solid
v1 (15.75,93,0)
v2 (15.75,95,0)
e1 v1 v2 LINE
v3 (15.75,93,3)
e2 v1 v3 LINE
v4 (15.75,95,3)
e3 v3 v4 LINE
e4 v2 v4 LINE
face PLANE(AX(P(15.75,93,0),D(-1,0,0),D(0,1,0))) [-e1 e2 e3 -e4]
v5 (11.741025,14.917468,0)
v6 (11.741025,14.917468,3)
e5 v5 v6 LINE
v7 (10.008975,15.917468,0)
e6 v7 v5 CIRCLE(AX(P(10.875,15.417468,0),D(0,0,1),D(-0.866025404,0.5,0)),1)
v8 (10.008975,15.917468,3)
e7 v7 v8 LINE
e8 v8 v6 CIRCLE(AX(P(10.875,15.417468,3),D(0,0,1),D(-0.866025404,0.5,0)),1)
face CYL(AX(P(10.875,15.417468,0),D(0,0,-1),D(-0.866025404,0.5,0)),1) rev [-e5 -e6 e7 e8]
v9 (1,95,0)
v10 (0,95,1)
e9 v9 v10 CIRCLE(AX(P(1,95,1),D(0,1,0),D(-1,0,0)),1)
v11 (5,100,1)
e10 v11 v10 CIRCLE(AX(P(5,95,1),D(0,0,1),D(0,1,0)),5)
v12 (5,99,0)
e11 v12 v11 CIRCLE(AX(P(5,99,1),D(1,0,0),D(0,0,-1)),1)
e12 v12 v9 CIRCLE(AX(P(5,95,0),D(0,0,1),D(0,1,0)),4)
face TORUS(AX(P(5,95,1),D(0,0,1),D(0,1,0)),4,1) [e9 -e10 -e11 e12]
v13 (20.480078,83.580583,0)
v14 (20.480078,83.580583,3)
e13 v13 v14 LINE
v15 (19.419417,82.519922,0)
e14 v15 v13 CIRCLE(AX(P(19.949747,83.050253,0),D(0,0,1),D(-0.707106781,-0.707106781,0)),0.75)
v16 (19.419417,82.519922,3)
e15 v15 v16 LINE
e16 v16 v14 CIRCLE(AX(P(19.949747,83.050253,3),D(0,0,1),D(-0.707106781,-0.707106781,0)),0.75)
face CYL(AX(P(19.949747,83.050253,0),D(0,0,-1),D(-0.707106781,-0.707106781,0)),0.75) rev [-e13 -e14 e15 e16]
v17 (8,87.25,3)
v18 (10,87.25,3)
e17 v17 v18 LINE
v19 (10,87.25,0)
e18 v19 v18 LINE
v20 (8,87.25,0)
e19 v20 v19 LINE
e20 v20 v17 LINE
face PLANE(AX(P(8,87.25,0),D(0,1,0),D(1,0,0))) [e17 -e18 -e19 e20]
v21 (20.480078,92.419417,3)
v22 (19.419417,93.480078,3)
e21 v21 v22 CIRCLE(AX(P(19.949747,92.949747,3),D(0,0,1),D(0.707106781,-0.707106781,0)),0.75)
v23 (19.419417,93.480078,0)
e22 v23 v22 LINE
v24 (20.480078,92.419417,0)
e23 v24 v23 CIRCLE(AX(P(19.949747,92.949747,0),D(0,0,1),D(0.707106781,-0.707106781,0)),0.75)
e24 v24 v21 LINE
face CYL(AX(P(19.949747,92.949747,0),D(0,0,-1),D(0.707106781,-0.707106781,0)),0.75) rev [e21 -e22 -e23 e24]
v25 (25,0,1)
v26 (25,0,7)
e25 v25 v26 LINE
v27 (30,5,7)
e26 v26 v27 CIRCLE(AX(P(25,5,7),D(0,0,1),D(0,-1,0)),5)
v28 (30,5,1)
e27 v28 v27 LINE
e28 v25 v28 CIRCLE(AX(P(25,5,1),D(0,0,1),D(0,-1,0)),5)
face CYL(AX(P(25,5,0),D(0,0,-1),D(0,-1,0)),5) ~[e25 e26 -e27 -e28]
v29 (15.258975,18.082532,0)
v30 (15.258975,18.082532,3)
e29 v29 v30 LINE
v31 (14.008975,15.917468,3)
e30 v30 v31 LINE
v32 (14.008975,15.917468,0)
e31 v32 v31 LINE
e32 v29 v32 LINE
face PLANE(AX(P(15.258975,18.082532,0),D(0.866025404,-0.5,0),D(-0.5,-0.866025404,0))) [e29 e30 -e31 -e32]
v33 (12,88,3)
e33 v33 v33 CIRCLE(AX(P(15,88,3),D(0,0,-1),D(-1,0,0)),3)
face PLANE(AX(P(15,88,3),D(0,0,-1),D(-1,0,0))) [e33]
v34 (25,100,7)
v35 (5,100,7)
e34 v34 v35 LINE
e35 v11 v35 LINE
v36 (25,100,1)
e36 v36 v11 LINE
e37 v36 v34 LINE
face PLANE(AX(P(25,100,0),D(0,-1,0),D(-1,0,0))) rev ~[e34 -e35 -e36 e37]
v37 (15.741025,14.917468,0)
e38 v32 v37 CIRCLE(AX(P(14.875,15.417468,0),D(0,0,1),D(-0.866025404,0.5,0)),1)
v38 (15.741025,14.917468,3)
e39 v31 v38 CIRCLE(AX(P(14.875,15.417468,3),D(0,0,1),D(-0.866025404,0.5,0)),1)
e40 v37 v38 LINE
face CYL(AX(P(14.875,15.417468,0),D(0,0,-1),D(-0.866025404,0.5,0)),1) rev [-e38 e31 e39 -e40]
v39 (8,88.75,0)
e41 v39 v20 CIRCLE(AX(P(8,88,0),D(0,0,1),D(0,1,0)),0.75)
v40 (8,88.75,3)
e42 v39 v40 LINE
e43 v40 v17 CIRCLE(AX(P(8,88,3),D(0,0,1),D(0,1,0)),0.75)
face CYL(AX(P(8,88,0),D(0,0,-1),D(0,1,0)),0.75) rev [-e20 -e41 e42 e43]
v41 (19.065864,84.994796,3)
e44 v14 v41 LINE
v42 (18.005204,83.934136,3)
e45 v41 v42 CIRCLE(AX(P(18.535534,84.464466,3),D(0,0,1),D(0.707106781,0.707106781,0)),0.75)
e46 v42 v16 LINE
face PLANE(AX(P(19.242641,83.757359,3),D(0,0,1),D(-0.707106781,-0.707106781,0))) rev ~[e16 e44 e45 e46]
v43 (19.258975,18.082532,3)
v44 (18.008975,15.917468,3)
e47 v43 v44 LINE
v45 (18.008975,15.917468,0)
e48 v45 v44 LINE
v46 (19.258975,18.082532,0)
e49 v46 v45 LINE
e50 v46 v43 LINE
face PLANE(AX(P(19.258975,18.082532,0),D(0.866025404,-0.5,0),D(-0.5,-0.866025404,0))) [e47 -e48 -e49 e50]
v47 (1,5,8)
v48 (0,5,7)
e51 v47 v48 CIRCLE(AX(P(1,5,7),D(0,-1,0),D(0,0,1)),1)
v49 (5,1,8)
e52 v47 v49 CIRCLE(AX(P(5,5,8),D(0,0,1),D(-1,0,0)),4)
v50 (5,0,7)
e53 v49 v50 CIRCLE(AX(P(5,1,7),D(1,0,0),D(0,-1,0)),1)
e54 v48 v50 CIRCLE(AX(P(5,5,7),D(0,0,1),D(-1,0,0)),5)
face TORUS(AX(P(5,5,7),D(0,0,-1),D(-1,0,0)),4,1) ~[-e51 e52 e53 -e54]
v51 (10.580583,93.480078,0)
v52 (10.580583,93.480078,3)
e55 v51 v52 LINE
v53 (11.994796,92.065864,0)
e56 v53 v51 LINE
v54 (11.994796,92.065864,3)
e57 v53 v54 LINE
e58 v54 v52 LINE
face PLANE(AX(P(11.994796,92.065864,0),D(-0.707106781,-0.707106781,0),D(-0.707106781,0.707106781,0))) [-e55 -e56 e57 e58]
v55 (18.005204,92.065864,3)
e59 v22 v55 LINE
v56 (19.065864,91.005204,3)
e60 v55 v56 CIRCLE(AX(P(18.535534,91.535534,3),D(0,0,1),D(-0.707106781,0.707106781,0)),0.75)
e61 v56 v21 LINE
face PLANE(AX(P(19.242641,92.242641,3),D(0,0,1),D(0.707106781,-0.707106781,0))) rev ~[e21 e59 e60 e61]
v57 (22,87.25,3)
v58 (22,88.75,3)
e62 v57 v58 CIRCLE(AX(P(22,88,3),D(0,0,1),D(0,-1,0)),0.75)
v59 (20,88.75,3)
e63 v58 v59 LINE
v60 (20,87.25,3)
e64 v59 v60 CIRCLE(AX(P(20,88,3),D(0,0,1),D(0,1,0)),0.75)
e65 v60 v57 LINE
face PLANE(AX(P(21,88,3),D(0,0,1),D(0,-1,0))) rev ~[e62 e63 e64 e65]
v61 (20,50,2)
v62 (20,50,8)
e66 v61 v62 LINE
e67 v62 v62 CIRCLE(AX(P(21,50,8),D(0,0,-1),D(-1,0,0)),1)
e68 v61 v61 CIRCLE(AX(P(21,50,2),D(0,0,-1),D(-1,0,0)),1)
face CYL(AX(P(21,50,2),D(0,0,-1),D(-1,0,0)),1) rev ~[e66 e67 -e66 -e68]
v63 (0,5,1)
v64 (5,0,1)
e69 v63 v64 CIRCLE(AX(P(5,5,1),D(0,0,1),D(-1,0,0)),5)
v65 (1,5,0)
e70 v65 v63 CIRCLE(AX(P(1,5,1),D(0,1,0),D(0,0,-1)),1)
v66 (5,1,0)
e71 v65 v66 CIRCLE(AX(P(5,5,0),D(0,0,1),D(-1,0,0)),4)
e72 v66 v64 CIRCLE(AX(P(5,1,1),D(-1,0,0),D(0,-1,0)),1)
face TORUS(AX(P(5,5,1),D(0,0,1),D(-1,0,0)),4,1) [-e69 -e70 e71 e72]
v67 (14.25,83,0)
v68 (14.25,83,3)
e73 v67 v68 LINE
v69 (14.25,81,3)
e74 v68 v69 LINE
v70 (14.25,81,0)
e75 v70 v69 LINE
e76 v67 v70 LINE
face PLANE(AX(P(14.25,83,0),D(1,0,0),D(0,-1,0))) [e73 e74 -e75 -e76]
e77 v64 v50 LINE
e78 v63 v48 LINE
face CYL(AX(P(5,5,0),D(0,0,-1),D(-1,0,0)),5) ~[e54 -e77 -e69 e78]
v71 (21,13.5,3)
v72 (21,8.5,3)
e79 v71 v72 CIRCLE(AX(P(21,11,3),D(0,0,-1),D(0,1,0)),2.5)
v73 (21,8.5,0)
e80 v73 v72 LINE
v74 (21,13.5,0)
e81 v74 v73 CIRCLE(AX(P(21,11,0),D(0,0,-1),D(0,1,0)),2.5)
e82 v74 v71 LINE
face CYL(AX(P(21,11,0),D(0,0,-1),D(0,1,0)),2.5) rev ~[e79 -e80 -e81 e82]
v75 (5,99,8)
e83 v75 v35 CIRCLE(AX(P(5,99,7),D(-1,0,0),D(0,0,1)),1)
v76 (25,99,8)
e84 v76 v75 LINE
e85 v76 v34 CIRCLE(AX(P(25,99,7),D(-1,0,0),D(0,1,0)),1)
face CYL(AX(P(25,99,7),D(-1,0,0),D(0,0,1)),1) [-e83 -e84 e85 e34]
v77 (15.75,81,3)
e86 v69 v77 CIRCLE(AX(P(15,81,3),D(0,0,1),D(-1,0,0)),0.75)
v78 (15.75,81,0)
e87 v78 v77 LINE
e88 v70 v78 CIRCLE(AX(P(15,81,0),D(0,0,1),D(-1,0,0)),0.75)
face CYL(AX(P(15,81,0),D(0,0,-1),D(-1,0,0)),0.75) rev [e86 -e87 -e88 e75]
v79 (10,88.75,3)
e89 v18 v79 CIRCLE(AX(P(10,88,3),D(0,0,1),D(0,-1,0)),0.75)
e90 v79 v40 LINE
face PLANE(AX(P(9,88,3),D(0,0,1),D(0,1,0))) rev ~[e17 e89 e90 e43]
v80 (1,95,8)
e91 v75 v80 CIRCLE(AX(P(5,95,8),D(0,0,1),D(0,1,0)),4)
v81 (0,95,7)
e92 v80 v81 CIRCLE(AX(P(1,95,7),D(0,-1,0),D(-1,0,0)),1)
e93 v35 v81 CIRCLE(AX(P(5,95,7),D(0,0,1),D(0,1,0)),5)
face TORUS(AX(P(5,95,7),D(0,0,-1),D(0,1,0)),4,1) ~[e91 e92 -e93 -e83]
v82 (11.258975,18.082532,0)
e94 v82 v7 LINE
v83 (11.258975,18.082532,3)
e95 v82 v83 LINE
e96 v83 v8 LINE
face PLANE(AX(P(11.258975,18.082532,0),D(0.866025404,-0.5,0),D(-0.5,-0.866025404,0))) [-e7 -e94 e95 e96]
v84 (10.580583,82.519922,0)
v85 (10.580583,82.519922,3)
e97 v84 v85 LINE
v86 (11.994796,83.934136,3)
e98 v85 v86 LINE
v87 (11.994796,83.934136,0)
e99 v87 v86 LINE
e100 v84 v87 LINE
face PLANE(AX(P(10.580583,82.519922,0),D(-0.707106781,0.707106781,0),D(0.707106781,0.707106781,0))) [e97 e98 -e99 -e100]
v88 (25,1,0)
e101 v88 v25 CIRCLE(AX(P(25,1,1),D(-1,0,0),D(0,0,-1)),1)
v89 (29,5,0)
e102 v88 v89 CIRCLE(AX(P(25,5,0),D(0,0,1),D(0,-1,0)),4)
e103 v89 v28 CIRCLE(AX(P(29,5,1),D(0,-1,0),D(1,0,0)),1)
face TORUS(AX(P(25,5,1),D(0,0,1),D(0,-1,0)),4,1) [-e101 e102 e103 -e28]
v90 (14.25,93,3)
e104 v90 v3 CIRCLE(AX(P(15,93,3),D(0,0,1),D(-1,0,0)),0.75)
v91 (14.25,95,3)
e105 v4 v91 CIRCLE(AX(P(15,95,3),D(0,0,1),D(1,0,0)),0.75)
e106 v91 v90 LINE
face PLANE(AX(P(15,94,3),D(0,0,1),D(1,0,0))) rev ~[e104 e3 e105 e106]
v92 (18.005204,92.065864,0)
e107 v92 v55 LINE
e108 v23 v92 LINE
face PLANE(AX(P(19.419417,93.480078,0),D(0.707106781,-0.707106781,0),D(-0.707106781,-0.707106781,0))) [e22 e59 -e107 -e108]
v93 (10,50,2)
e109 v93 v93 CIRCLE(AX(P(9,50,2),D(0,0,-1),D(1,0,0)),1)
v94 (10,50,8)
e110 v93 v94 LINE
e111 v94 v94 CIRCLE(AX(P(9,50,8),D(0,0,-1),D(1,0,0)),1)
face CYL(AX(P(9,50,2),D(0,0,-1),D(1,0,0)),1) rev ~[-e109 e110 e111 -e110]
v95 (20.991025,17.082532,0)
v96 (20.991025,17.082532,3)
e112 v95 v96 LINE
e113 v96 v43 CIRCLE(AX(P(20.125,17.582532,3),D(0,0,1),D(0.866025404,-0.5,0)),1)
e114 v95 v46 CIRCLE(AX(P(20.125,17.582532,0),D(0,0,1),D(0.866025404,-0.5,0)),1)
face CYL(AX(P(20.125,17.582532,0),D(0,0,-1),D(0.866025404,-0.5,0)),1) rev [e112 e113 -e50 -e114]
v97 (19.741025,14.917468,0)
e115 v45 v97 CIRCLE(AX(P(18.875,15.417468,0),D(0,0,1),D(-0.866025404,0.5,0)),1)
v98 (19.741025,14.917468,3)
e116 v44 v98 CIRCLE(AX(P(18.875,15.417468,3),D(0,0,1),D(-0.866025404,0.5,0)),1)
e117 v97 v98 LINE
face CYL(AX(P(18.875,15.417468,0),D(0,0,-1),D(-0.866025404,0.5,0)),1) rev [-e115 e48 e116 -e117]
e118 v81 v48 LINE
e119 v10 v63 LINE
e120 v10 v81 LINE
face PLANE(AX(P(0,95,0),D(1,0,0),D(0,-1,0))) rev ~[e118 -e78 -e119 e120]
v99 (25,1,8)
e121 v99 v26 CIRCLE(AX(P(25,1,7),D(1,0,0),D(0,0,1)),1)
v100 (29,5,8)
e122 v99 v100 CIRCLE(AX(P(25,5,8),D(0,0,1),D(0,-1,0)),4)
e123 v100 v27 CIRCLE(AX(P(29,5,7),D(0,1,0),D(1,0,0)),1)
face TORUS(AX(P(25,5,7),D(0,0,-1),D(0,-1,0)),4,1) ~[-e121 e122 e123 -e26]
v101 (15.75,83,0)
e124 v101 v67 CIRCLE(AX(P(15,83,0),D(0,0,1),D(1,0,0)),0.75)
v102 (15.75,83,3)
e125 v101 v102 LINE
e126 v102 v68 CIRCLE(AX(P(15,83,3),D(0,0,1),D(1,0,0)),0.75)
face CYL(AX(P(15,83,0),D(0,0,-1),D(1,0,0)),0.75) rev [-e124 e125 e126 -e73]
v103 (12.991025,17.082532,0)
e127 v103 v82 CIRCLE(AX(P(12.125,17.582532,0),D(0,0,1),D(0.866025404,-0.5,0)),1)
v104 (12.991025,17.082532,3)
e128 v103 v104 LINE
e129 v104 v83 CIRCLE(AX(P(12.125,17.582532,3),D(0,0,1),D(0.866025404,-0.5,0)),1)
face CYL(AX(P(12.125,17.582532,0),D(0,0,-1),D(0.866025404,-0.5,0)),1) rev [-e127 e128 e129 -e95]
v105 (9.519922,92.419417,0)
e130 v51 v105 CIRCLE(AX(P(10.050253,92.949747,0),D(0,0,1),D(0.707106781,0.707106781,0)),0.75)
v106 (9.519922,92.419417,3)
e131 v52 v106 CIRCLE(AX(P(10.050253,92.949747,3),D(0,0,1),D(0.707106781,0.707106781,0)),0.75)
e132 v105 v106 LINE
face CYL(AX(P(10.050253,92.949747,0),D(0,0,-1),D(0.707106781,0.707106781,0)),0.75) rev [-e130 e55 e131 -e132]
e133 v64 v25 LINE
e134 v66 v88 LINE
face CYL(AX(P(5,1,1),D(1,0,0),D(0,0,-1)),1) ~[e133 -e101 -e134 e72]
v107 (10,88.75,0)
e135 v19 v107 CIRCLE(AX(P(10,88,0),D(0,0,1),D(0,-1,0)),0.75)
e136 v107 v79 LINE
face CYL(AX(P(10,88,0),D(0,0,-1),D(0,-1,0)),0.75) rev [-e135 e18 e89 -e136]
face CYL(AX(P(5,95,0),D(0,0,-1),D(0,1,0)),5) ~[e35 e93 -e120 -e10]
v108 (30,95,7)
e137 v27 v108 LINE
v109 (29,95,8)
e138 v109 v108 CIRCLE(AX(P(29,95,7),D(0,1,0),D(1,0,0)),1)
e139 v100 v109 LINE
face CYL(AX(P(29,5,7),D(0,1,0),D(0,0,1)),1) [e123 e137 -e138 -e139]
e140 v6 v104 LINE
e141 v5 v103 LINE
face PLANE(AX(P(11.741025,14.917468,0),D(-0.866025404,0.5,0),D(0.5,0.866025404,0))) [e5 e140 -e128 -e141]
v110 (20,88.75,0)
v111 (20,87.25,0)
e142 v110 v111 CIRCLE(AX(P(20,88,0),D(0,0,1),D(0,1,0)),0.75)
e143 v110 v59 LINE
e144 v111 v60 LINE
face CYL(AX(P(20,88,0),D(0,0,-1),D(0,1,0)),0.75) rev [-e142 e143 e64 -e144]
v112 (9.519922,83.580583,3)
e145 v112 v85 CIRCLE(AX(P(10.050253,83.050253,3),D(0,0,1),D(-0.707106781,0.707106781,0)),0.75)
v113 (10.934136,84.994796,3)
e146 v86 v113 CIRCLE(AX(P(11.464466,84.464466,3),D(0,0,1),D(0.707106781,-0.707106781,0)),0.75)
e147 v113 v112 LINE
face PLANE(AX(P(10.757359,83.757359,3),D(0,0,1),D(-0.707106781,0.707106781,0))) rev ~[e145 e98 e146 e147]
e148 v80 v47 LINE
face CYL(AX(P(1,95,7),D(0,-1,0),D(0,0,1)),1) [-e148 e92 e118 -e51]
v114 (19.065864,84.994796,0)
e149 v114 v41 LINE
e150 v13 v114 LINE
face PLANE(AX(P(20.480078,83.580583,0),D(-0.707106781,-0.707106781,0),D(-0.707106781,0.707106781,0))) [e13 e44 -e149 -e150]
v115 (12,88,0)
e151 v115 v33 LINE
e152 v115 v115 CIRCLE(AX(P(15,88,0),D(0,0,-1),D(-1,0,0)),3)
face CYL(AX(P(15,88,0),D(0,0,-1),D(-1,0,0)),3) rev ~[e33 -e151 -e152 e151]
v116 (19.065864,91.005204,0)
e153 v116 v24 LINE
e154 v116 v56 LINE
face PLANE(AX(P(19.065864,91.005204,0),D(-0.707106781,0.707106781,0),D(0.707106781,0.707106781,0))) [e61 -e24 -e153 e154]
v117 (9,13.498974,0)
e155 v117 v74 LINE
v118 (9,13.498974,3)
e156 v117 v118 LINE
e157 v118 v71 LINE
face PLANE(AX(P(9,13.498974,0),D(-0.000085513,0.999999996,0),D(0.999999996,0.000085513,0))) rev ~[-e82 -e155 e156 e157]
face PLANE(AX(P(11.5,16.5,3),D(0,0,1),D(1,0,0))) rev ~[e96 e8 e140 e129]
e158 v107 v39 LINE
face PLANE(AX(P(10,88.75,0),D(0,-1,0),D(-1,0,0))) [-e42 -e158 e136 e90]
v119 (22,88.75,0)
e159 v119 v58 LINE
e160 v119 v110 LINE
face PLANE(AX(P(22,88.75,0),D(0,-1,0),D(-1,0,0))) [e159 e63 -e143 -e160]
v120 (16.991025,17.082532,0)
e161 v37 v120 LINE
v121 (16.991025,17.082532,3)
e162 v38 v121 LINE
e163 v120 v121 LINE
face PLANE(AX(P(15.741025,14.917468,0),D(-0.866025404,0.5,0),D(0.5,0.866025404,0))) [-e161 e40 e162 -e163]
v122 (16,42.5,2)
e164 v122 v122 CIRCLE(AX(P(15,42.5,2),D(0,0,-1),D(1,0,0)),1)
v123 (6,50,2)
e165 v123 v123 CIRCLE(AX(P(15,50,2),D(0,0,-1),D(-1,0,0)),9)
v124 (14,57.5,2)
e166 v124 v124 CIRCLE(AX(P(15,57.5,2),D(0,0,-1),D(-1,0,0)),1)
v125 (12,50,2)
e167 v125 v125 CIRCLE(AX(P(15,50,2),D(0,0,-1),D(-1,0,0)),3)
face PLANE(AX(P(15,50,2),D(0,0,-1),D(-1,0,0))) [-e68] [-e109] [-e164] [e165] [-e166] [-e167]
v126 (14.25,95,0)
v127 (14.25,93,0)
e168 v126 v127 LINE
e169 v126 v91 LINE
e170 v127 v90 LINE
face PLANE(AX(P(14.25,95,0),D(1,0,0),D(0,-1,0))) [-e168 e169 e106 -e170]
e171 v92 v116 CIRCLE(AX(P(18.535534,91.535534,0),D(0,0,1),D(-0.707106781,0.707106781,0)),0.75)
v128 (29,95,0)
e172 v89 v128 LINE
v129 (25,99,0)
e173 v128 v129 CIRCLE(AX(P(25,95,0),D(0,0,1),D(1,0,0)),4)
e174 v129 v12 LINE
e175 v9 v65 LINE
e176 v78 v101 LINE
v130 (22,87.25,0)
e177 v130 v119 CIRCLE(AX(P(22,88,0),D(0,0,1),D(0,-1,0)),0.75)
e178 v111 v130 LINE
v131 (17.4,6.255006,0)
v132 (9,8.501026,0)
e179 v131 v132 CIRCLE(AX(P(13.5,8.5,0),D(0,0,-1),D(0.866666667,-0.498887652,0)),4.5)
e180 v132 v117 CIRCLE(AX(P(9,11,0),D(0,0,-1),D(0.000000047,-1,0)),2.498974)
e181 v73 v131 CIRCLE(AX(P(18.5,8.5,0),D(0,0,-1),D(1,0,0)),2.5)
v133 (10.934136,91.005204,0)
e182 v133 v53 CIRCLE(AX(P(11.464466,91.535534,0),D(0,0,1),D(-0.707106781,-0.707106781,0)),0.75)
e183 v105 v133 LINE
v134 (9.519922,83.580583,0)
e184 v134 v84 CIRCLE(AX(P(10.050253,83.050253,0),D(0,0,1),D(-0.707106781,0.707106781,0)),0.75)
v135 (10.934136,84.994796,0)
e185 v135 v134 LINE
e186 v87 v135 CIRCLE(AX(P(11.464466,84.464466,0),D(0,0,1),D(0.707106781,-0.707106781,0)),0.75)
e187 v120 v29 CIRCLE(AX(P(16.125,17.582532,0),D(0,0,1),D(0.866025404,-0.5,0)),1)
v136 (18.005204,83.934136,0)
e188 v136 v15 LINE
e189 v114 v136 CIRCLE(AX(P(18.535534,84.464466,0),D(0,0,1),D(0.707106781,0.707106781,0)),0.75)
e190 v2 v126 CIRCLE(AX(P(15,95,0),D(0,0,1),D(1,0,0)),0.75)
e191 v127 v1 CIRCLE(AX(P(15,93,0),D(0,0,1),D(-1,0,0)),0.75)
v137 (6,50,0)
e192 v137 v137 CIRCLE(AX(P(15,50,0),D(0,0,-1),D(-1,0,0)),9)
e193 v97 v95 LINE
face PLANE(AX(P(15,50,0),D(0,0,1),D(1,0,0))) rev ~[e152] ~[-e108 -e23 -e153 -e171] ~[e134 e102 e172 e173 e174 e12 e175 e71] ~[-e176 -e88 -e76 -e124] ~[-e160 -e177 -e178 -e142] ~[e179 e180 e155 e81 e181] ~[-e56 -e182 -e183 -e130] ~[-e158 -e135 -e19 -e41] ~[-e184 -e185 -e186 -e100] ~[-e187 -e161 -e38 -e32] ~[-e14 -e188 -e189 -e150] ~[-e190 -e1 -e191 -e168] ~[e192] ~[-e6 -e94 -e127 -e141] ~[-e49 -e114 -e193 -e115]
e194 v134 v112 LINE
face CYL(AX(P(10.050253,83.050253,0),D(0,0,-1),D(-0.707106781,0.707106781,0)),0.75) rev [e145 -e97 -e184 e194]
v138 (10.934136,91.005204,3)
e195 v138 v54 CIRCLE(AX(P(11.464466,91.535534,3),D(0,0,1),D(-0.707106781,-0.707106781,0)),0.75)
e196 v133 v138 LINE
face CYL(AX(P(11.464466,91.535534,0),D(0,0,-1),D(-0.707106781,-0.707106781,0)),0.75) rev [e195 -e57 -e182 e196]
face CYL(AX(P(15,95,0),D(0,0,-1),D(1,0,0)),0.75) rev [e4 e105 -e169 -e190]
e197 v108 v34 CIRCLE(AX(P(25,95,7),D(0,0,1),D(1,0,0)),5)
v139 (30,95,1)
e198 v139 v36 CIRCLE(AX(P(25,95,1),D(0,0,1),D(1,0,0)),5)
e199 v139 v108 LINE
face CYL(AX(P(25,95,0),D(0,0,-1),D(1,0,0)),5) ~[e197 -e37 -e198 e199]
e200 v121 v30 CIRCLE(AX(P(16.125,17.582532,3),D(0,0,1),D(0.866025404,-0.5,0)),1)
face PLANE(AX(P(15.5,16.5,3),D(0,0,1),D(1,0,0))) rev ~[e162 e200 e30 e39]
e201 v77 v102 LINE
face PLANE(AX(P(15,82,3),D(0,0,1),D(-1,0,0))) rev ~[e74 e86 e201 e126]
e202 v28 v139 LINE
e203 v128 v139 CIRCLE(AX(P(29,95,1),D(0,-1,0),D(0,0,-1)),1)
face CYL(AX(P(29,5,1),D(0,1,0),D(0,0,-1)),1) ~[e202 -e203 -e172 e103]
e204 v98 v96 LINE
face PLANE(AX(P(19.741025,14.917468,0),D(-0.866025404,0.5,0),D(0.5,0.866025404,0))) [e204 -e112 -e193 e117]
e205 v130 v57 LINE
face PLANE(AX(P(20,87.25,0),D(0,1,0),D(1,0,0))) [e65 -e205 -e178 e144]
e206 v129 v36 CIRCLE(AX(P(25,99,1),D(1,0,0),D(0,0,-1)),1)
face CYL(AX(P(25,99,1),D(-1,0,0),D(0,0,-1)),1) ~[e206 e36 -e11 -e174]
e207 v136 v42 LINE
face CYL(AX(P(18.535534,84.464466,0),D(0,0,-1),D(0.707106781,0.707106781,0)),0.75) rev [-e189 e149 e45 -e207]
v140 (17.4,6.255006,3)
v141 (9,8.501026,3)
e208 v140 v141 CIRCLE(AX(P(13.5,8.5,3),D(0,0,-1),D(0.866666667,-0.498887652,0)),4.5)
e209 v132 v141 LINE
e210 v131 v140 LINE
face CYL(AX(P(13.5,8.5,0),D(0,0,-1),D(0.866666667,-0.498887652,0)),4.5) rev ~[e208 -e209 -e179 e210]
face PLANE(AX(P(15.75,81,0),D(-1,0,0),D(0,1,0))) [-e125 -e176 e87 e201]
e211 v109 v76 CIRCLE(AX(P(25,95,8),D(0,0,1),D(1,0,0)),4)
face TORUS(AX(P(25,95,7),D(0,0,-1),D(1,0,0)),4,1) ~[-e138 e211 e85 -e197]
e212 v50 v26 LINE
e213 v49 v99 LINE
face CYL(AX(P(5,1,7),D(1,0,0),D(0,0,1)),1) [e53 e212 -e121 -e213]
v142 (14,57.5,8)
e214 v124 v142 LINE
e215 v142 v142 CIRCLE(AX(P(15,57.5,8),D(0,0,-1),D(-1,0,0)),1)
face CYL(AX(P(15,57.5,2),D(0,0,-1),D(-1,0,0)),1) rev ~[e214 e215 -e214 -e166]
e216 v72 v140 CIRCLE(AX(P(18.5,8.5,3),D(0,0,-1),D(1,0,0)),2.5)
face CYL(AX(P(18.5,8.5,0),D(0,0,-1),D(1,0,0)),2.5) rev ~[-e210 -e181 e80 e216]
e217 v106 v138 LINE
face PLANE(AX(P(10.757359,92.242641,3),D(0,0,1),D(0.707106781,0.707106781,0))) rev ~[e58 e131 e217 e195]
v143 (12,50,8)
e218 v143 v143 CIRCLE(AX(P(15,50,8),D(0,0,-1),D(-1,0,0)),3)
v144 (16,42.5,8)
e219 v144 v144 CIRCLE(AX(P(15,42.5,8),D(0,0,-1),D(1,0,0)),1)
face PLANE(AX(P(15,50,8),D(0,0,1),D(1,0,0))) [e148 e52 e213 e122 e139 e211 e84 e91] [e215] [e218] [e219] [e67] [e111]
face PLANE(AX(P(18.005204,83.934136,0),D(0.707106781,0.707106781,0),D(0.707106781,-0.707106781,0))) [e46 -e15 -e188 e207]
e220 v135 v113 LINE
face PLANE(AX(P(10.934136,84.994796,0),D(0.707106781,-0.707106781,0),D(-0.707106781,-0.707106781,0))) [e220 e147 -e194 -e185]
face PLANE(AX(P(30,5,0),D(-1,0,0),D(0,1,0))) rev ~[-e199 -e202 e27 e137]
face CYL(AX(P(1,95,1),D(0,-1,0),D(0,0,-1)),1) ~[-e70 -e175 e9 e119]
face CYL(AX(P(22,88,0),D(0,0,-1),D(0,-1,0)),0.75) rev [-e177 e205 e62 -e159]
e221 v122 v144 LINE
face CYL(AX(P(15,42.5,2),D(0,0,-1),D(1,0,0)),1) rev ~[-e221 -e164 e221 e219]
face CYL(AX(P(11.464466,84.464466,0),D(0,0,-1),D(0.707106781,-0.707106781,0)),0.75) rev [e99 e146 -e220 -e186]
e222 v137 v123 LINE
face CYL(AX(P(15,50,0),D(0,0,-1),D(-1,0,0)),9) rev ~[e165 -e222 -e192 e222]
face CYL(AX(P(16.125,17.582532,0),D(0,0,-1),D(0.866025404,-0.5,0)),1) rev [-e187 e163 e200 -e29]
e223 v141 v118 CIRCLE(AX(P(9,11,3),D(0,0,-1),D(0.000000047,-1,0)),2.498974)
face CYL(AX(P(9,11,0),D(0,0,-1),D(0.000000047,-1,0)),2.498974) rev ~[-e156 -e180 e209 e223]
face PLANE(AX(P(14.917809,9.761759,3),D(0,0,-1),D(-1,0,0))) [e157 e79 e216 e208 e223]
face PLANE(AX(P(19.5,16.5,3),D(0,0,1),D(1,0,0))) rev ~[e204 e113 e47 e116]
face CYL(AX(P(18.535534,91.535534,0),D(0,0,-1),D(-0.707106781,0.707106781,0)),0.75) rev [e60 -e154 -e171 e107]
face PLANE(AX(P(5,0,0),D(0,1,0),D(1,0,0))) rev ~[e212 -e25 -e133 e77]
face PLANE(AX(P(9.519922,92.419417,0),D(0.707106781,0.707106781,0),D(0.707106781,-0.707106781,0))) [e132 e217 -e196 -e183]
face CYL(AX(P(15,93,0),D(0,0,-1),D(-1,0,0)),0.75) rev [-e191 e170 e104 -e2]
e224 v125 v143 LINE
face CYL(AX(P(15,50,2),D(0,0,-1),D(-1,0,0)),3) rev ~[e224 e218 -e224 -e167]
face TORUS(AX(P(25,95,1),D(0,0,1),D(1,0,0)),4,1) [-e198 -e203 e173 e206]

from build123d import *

# Parameters (mm, degrees)
EXTRUDE_1_DEPTH          = 8
SKETCH_2_R               = 3
CUT_EXTRUDE_1_DEPTH      = 3
CUT_EXTRUDE_2_DEPTH      = 3
PATTERN_CIRCULAR_1_COUNT = 8
CUT_EXTRUDE_3_DEPTH      = 3
CUT_EXTRUDE_4_DEPTH      = 3
PATTERN_LINEAR_2_COUNT   = 2
PATTERN_LINEAR_2_PITCH   = 4
PATTERN_LINEAR_4_COUNT   = 2
PATTERN_LINEAR_4_PITCH   = 4
SKETCH_14_R              = 9
CUT_EXTRUDE_7_DEPTH      = 2
SKETCH_15_R              = 3
CUT_EXTRUDE_8_DEPTH      = 7
SKETCH1_R                = 1
CUT_EXTRUDE1_DEPTH       = 7
CIRPATTERN1_COUNT        = 2
SKETCH2_R                = 1
CUT_EXTRUDE2_DEPTH       = 7
CIRPATTERN2_COUNT        = 2
FILLET1_R                = 1
FILLET2_R                = 1


with BuildPart() as part:
    # ｽｹｯﾁ1 → ﾎﾞｽ - 押し出し1 (new body)
    with BuildSketch(Plane.XY):
        with BuildLine():
            Line((5, 0), (25, 0))
            ThreePointArc((25, 0), (28.535533906, 1.464466094), (30, 5))
            Line((30, 5), (30, 95))
            ThreePointArc((30, 95), (28.535533906, 98.535533906), (25, 100))
            Line((25, 100), (5, 100))
            ThreePointArc((5, 100), (1.464466094, 98.535533906), (0, 95))
            Line((0, 95), (0, 5))
            ThreePointArc((0, 5), (1.464466094, 1.464466094), (5, 0))
        make_face()
    extrude(amount=EXTRUDE_1_DEPTH)

    # ｽｹｯﾁ2 → ｶｯﾄ - 押し出し1 (cut)
    with BuildSketch(Plane(origin=(0, 0, 0), x_dir=(-1, 0, 0), z_dir=(0, 0, -1))):
        with Locations((-15, 88)):
            Circle(SKETCH_2_R)
    extrude(amount=-CUT_EXTRUDE_1_DEPTH, mode=Mode.SUBTRACT)

    # ｽｹｯﾁ4 → ｶｯﾄ - 押し出し2 (cut)
    with BuildSketch(Plane(origin=(0, 0, 0), x_dir=(-1, 0, 0), z_dir=(0, 0, -1))):
        with BuildLine():
            Line((-14.25, 95), (-14.25, 93))
            ThreePointArc((-14.25, 93), (-15, 92.25), (-15.75, 93))
            Line((-15.75, 93), (-15.75, 95))
            ThreePointArc((-15.75, 95), (-15, 95.75), (-14.25, 95))
        make_face()
    cut_extrude_2 = extrude(amount=-CUT_EXTRUDE_2_DEPTH, mode=Mode.SUBTRACT)

    # 円形ﾊﾟﾀｰﾝ1: ｶｯﾄ - 押し出し2 ×8 about axis
    pattern_circular_1_axis = Axis((15, 88, 0), (0, 0, 1))
    for i in range(1, PATTERN_CIRCULAR_1_COUNT):
        add(cut_extrude_2.rotate(pattern_circular_1_axis, i * 360 / PATTERN_CIRCULAR_1_COUNT), mode=Mode.SUBTRACT)

    # ｽｹｯﾁ6 → ｶｯﾄ - 押し出し3 (cut)
    with BuildSketch(Plane(origin=(0, 0, 0), x_dir=(-1, 0, 0), z_dir=(0, 0, -1))):
        with BuildLine():
            Line((-9.000000044, 13.498973843), (-21, 13.5))
            ThreePointArc((-21, 13.5), (-23.5, 11), (-21, 8.5))
            ThreePointArc((-21, 8.5), (-19.822875656, 6.378679656), (-17.4, 6.255005568))
            ThreePointArc((-17.4, 6.255005568), (-12.337609323, 4.152719481), (-9.000000117, 8.501026157))
            ThreePointArc((-9.000000117, 8.501026157), (-6.501026157, 10.999999963), (-9.000000044, 13.498973843))
        make_face()
    extrude(amount=-CUT_EXTRUDE_3_DEPTH, mode=Mode.SUBTRACT)

    # ｽｹｯﾁ12 → ｶｯﾄ - 押し出し4 (cut)
    with BuildSketch(Plane(origin=(0, 0, 0), x_dir=(-1, 0, 0), z_dir=(0, 0, -1))):
        with BuildLine():
            Line((-15.258974596, 18.082531755), (-14.008974596, 15.917468245))
            ThreePointArc((-14.008974596, 15.917468245), (-14.375, 14.551442841), (-15.741025404, 14.917468245))
            Line((-15.741025404, 14.917468245), (-16.991025404, 17.082531755))
            ThreePointArc((-16.991025404, 17.082531755), (-16.625, 18.448557159), (-15.258974596, 18.082531755))
        make_face()
    cut_extrude_4 = extrude(amount=-CUT_EXTRUDE_4_DEPTH, mode=Mode.SUBTRACT)

    # 直線ﾊﾟﾀｰﾝ2: ｶｯﾄ - 押し出し4 ×2
    with Locations(*[(-i * PATTERN_LINEAR_2_PITCH, 0, 0) for i in range(1, PATTERN_LINEAR_2_COUNT)]):
        add(cut_extrude_4, mode=Mode.SUBTRACT)

    # 直線ﾊﾟﾀｰﾝ4: ｶｯﾄ - 押し出し4 ×2
    with Locations(*[(i * PATTERN_LINEAR_4_PITCH, 0, 0) for i in range(1, PATTERN_LINEAR_4_COUNT)]):
        add(cut_extrude_4, mode=Mode.SUBTRACT)

    # ｽｹｯﾁ14 → ｶｯﾄ - 押し出し7 (cut)
    with BuildSketch(Plane(origin=(0, 0, 0), x_dir=(-1, 0, 0), z_dir=(0, 0, -1))):
        with Locations((-15, 50)):
            Circle(SKETCH_14_R)
    extrude(amount=-CUT_EXTRUDE_7_DEPTH, mode=Mode.SUBTRACT)

    # ｽｹｯﾁ15 → ｶｯﾄ - 押し出し8 (cut, through all)
    with BuildSketch(Plane(origin=(0, 0, 2), x_dir=(-1, 0, 0), z_dir=(0, 0, -1))):
        with Locations((-15, 50)):
            Circle(SKETCH_15_R)
    extrude(amount=-CUT_EXTRUDE_8_DEPTH, mode=Mode.SUBTRACT)

    # Sketch1 → Cut-Extrude1 (cut, through all)
    with BuildSketch(Plane(origin=(0, 0, 2), x_dir=(-1, 0, 0), z_dir=(0, 0, -1))):
        with Locations((-15, 57.5)):
            Circle(SKETCH1_R)
    cut_extrude1 = extrude(amount=-CUT_EXTRUDE1_DEPTH, mode=Mode.SUBTRACT)

    # CirPattern1: Cut-Extrude1 ×2 about axis
    cirpattern1_axis = Axis((15, 50, 0), (0, 0, 1))
    for i in range(1, CIRPATTERN1_COUNT):
        add(cut_extrude1.rotate(cirpattern1_axis, i * 360 / CIRPATTERN1_COUNT), mode=Mode.SUBTRACT)

    # Sketch2 → Cut-Extrude2 (cut, through all)
    with BuildSketch(Plane(origin=(0, 0, 2), x_dir=(-1, 0, 0), z_dir=(0, 0, -1))):
        with Locations((-21, 50)):
            Circle(SKETCH2_R)
    cut_extrude2 = extrude(amount=-CUT_EXTRUDE2_DEPTH, mode=Mode.SUBTRACT)

    # CirPattern2: Cut-Extrude2 ×2 about axis
    cirpattern2_axis = Axis((15, 50, 0), (0, 0, 1))
    for i in range(1, CIRPATTERN2_COUNT):
        add(cut_extrude2.rotate(cirpattern2_axis, i * 360 / CIRPATTERN2_COUNT), mode=Mode.SUBTRACT)

    # Fillet1
    fillet1_edges = [part.edges().sort_by_distance(p)[0] for p in [
        (28.535533906, 98.535533906, 8),
        (15, 100, 8),
        (1.464466094, 98.535533906, 8),
        (0, 50, 8),
        (1.464466094, 1.464466094, 8),
        (15, 0, 8),
        (28.535533906, 1.464466094, 8),
        (30, 50, 8),
    ]]
    fillet(fillet1_edges, radius=FILLET1_R)

    # Fillet2
    fillet2_edges = [part.edges().sort_by_distance(p)[0] for p in [
        (15, 100, 0),
        (28.535533906, 98.535533906, 0),
        (30, 50, 0),
        (28.535533906, 1.464466094, 0),
        (15, 0, 0),
        (1.464466094, 1.464466094, 0),
        (0, 50, 0),
        (1.464466094, 98.535533906, 0),
    ]]
    fillet(fillet2_edges, radius=FILLET2_R)


solid = part.part
